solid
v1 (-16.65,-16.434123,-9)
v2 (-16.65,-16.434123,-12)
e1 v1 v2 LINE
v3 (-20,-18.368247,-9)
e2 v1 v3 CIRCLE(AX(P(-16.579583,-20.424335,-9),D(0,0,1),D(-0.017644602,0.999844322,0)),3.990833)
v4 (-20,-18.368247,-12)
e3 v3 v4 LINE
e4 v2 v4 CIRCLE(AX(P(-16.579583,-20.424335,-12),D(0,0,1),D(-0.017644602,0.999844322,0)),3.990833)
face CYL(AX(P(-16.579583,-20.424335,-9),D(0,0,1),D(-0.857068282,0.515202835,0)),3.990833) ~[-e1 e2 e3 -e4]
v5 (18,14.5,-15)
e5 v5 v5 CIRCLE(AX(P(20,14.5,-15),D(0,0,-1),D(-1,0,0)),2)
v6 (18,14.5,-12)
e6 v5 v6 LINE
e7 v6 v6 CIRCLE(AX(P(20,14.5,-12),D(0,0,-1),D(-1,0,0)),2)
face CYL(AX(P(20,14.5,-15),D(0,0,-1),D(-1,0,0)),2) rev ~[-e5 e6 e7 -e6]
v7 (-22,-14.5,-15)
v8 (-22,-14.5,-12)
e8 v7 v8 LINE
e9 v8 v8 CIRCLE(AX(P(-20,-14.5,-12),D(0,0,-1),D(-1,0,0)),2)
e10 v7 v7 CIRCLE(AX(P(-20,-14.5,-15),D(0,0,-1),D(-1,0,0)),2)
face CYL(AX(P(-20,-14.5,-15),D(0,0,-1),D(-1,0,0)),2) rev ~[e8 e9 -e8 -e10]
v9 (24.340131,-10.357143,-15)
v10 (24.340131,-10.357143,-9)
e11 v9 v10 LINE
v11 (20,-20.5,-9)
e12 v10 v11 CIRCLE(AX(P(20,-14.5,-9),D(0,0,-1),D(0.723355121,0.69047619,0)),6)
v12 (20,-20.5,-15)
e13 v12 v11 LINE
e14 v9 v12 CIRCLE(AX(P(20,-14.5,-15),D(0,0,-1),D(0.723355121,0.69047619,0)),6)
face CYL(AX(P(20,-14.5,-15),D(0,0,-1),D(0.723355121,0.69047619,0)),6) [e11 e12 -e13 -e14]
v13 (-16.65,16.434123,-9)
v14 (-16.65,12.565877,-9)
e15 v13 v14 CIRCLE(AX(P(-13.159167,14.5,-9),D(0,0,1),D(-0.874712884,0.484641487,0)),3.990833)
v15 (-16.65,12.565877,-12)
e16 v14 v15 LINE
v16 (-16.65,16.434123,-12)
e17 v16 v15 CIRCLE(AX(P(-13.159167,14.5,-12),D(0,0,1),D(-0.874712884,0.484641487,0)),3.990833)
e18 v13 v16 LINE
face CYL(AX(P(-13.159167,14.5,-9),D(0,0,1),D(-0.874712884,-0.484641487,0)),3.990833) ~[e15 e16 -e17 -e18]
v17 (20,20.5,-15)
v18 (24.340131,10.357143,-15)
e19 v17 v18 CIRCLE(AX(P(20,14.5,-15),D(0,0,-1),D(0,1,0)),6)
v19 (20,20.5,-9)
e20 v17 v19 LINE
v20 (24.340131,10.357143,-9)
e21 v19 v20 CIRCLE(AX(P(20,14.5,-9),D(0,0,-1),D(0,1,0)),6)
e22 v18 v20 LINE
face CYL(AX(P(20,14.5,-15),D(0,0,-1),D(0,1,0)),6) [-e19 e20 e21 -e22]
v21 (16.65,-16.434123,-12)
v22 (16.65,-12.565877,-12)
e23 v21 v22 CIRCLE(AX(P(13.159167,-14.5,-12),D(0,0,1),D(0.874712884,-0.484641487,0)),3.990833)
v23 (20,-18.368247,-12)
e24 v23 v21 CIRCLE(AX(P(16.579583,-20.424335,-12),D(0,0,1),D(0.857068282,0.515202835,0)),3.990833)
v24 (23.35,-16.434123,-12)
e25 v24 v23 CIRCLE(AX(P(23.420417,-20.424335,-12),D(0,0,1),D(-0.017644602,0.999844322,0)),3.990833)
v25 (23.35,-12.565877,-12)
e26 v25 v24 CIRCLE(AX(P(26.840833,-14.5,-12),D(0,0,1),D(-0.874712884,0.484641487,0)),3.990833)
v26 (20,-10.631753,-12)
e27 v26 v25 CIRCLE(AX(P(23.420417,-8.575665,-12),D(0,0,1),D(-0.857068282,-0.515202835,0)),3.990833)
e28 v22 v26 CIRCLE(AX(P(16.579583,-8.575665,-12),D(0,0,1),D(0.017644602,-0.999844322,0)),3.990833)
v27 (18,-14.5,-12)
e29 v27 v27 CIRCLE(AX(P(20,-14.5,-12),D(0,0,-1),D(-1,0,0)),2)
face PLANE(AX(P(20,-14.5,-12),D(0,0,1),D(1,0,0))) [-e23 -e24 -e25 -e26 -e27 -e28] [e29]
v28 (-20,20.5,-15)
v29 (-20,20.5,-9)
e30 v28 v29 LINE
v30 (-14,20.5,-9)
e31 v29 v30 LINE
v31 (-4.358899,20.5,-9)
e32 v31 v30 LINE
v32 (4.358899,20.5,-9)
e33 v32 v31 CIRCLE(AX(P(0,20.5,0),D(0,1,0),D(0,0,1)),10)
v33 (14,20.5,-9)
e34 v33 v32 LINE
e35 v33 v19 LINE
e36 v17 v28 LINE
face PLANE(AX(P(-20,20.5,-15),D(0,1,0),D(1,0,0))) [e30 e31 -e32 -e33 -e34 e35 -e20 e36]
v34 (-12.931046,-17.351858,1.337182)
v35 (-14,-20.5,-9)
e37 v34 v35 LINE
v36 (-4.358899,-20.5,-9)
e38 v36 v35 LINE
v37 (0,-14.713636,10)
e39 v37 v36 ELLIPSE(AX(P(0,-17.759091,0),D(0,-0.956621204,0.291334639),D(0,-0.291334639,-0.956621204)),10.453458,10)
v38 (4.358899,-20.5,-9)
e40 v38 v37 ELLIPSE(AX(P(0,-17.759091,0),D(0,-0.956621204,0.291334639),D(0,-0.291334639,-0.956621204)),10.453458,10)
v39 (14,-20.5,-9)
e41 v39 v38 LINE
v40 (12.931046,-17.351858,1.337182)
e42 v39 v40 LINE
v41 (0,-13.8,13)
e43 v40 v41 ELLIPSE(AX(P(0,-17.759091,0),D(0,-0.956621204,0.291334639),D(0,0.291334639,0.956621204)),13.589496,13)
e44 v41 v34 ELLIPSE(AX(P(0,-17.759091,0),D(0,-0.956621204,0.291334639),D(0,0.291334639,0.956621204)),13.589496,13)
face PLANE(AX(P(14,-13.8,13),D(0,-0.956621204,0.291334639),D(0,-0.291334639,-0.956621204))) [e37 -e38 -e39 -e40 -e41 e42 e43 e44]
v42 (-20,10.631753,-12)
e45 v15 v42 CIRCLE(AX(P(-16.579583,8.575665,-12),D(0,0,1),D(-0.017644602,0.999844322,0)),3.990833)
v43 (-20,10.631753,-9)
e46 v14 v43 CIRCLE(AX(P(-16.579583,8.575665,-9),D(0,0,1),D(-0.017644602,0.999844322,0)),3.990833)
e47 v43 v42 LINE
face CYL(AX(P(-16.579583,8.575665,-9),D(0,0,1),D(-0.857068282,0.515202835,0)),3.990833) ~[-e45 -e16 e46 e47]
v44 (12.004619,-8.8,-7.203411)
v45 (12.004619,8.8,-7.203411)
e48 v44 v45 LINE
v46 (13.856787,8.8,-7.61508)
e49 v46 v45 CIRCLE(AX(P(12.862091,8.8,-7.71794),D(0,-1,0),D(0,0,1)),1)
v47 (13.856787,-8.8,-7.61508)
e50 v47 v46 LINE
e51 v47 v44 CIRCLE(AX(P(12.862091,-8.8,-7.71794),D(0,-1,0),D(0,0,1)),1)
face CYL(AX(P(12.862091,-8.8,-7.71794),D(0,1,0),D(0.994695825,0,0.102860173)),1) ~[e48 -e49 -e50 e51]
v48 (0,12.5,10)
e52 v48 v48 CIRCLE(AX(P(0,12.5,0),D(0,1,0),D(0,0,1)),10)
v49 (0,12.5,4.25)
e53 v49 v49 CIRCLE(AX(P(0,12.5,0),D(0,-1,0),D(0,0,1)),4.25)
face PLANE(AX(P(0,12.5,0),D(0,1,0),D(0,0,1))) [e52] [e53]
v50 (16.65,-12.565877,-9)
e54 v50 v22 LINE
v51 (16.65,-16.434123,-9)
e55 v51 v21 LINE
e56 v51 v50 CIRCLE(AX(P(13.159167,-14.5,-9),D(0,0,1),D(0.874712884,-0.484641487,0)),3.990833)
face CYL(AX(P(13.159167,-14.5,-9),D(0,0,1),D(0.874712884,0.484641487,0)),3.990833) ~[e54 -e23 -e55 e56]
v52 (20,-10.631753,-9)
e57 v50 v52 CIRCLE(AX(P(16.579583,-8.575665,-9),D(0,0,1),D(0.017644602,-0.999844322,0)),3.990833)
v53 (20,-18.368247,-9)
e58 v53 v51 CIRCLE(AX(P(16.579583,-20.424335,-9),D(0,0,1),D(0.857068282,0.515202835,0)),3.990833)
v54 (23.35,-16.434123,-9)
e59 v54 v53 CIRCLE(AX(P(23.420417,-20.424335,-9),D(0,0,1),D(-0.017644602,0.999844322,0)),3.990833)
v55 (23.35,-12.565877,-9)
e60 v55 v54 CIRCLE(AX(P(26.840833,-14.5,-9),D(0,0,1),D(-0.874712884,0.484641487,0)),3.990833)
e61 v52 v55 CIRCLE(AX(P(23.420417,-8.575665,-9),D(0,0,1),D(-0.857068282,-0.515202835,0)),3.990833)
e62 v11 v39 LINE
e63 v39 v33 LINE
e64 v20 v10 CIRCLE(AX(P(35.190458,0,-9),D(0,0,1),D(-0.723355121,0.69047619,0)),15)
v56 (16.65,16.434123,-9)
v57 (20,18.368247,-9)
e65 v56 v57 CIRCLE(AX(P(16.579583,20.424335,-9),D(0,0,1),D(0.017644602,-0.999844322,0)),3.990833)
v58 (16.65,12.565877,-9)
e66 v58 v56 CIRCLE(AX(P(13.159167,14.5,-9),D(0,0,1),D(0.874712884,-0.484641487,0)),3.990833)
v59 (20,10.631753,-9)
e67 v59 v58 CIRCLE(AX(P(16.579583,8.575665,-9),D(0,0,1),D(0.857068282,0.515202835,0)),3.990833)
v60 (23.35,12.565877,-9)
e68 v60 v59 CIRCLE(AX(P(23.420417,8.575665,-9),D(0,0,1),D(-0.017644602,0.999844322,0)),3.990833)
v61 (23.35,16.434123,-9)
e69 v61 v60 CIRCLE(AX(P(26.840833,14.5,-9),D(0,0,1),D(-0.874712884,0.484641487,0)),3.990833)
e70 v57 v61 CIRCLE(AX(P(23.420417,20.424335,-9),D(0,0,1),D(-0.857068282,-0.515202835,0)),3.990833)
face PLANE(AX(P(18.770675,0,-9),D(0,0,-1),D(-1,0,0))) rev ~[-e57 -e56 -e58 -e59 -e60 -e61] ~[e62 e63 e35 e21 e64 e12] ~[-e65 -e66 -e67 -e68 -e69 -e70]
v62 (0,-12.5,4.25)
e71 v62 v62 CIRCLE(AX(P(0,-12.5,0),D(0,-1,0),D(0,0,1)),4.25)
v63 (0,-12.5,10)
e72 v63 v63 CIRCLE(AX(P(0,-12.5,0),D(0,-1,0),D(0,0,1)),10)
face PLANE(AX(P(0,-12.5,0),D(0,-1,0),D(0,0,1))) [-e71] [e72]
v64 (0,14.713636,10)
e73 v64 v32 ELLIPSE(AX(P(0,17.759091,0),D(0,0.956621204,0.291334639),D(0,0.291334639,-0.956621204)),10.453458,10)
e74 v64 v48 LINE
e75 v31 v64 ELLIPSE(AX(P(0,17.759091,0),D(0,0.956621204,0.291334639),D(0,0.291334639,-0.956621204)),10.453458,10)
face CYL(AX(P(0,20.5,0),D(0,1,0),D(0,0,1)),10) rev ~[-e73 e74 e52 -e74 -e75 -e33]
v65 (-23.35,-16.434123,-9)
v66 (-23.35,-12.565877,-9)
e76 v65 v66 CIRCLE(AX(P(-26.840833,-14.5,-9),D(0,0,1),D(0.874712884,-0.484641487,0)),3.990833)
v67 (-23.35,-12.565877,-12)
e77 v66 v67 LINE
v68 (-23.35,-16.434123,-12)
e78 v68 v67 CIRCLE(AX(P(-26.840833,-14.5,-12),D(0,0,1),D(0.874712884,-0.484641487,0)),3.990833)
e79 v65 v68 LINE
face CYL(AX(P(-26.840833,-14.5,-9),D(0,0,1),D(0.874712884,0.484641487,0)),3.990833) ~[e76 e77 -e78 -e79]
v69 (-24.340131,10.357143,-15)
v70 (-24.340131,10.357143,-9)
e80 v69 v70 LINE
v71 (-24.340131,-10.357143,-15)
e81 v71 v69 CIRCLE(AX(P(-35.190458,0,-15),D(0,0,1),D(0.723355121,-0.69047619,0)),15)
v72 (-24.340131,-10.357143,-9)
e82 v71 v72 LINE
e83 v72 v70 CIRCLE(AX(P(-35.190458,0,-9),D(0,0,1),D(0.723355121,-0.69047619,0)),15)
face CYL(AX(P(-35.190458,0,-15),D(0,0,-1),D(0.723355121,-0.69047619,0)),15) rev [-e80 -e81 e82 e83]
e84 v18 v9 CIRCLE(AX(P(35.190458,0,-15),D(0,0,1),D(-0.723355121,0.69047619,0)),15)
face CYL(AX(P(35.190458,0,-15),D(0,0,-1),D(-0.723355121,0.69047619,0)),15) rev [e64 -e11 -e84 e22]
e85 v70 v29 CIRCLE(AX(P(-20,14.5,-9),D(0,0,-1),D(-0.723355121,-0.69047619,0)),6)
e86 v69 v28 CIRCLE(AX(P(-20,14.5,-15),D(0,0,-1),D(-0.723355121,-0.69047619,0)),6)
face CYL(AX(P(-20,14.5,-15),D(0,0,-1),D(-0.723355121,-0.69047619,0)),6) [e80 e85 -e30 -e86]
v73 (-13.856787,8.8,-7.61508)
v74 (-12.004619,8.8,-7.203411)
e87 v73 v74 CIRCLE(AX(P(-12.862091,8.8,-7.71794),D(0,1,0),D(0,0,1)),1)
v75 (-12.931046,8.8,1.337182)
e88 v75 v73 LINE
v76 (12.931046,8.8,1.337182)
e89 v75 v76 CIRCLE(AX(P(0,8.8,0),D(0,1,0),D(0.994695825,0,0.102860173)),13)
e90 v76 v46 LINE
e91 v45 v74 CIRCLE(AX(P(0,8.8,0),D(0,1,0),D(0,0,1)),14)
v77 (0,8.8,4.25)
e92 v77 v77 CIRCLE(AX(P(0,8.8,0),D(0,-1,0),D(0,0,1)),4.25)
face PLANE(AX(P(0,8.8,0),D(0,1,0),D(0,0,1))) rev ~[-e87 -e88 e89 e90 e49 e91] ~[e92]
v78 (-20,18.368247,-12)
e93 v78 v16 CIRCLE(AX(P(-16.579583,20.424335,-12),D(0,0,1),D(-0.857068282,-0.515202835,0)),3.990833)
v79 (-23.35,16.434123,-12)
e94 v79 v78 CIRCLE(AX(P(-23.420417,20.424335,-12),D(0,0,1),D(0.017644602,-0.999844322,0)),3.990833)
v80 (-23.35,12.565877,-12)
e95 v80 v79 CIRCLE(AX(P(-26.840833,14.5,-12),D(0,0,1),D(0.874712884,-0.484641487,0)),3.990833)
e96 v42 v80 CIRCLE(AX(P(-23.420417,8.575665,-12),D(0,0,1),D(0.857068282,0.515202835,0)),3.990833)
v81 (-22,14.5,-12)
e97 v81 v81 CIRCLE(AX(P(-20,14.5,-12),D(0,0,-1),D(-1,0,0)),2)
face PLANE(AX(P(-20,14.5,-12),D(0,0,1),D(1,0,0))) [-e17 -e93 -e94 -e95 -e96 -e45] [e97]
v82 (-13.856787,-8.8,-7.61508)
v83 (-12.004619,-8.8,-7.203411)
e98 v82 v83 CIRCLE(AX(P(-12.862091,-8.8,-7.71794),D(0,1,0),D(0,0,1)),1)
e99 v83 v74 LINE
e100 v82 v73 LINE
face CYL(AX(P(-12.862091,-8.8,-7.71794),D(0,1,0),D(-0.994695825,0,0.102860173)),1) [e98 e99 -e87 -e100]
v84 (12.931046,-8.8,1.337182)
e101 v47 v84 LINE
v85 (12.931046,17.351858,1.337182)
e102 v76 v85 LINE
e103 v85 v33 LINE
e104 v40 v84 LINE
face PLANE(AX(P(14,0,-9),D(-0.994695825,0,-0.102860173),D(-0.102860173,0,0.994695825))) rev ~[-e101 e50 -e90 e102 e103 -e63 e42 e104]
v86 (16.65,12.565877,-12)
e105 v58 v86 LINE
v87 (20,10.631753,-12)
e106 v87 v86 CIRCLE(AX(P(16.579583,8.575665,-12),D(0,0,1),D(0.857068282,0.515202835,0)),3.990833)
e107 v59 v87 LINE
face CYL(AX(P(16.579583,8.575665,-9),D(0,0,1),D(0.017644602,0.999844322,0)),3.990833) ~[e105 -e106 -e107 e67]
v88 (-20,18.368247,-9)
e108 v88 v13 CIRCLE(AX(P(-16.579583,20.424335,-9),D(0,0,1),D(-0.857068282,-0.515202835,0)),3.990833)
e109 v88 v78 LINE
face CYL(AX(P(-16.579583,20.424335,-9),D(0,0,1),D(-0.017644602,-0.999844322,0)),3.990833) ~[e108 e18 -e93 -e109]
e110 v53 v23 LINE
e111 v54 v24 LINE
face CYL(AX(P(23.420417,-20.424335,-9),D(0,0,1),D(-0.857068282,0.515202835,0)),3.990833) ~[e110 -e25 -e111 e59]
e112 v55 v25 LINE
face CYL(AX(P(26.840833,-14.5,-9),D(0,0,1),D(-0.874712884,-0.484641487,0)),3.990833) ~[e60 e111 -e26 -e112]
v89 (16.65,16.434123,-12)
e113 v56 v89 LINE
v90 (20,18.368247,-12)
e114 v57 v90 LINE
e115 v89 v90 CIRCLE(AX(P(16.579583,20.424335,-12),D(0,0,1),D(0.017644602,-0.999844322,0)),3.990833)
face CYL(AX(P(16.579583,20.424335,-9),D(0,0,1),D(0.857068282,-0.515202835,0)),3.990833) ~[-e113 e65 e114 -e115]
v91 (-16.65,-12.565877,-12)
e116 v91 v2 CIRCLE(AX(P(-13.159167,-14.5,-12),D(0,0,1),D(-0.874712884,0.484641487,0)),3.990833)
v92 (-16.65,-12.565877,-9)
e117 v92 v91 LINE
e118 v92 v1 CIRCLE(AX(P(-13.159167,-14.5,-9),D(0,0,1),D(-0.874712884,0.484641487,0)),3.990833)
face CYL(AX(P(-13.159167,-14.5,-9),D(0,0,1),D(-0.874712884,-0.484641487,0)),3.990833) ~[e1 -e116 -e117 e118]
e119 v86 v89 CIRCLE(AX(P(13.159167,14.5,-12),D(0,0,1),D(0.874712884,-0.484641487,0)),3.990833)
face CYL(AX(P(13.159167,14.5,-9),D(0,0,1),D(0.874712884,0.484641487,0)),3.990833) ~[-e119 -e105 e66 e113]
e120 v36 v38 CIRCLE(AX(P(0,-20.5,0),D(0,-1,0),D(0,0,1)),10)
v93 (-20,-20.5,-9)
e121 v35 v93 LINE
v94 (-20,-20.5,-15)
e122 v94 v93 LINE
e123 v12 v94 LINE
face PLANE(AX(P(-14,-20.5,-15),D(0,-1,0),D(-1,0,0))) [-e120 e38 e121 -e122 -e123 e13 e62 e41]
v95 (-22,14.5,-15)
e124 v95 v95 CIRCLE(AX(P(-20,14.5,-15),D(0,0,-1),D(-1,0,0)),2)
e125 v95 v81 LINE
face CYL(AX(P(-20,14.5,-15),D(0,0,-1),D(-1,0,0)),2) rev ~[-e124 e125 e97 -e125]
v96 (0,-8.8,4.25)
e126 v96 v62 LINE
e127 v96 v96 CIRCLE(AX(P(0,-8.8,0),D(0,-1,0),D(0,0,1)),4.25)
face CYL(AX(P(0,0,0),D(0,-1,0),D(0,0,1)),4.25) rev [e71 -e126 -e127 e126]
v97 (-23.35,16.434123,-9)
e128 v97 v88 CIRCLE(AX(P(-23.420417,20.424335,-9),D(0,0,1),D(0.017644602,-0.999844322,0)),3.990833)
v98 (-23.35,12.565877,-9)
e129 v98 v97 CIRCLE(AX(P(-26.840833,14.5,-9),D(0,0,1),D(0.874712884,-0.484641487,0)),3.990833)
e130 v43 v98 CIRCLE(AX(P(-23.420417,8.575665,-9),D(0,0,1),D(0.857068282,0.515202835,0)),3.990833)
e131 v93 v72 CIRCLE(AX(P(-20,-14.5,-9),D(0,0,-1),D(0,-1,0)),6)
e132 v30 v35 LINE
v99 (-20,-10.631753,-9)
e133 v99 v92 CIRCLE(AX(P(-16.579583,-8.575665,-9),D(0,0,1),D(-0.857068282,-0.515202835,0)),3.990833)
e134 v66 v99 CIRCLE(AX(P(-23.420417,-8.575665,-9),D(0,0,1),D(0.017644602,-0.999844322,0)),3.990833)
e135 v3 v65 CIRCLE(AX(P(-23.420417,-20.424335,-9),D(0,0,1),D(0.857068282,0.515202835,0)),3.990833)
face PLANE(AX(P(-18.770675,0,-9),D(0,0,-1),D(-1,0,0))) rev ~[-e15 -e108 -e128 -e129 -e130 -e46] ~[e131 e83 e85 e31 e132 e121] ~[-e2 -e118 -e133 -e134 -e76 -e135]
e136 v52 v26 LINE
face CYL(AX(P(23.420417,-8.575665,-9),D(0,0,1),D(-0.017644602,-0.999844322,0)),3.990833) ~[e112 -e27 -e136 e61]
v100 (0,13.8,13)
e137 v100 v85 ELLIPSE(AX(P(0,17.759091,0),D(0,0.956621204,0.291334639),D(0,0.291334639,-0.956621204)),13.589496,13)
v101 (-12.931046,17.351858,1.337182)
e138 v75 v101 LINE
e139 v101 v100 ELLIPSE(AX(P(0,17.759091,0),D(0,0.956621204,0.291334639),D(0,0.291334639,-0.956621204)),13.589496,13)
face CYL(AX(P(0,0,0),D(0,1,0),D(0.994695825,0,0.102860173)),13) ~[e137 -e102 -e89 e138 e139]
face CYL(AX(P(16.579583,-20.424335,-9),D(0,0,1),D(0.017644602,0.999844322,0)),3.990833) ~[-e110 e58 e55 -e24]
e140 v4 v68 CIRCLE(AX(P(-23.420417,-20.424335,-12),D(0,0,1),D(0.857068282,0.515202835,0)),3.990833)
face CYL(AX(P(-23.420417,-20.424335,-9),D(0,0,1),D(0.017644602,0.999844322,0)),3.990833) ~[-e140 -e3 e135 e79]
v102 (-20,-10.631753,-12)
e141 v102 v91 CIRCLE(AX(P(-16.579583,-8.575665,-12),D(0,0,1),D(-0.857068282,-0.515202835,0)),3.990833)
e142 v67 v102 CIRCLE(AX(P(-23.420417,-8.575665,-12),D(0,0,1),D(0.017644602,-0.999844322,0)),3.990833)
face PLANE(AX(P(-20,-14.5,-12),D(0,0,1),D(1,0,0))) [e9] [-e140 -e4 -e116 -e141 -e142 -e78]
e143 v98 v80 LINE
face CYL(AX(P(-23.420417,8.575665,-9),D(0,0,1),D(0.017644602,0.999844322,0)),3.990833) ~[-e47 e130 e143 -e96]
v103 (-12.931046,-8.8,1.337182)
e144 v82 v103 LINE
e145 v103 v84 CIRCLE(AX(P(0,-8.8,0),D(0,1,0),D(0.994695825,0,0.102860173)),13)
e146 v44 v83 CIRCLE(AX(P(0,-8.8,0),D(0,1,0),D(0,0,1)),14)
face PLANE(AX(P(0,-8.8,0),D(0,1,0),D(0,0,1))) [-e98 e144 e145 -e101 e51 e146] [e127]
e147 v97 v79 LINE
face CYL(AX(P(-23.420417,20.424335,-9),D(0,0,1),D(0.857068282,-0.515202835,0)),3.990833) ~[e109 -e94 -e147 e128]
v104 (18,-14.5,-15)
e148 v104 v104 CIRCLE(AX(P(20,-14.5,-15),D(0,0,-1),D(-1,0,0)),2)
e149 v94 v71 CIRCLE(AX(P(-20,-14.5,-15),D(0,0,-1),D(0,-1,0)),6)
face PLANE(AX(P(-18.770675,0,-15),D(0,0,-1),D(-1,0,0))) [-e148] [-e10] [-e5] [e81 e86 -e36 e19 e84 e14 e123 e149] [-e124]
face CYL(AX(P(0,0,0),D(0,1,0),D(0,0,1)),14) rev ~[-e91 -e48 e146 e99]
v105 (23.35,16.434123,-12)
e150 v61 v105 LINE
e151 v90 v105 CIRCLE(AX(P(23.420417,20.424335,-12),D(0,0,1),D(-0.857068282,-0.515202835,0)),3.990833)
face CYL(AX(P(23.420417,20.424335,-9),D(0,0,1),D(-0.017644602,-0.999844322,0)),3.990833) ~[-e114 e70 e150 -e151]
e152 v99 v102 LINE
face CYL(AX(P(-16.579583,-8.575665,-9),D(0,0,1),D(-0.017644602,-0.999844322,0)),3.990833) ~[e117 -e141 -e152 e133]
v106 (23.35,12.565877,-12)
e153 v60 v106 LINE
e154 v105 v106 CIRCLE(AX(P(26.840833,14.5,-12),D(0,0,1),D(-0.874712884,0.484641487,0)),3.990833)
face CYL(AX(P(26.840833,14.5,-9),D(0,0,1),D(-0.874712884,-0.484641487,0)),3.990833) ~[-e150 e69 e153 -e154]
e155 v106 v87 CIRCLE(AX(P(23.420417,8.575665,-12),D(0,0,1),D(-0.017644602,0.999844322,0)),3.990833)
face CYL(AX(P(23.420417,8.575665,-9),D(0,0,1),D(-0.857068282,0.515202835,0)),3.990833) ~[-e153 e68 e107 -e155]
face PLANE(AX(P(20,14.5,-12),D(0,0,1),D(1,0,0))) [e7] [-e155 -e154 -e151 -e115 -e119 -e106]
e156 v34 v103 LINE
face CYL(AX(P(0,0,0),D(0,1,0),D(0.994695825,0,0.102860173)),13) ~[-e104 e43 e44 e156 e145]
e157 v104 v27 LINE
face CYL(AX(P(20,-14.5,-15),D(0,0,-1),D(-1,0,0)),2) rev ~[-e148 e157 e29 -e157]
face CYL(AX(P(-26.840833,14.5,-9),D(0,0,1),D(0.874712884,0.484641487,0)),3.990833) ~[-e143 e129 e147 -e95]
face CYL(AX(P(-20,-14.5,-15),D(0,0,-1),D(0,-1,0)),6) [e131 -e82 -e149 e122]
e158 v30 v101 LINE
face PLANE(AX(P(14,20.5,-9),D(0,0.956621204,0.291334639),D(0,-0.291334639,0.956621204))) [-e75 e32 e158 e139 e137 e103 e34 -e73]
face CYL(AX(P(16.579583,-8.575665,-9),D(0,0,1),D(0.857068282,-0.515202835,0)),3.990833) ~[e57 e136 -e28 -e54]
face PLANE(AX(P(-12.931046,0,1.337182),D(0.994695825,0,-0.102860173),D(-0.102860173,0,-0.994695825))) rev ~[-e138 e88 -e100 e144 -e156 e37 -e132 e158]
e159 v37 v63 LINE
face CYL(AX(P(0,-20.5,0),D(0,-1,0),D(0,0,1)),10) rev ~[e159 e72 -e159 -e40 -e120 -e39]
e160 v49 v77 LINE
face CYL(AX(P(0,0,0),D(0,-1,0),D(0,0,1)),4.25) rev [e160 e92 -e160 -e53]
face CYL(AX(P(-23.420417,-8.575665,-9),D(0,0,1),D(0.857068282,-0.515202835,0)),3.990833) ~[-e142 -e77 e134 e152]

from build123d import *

# Parameters (mm, degrees)
SKETCH1_R            = 4.25
BOSS_EXTRUDE1_DEPTH  = 20.5
SKETCH2_W            = 14
SKETCH2_H            = 17.6
CUT_EXTRUDE1_DEPTH   = 29
SKETCH7_R            = 1
BOSS_EXTRUDE2_DEPTH  = 6
CUT_EXTRUDE6_DEPTH   = 3
SKETCH4_R            = 2
CUT_EXTRUDE2_DEPTH   = 7
SKETCH5_R            = 10
CUT_EXTRUDE3_DEPTH   = 8
SKETCH6_R            = 10
CUT_EXTRUDE4_DEPTH   = 8
FILLET1_R            = 1
CUT_EXTRUDE7_DEPTH   = 3
LPATTERN1_COUNT      = 2
LPATTERN1_PITCH      = 40
LPATTERN1_COUNT_DIR2 = 2
LPATTERN1_PITCH_DIR2 = 29


with BuildPart() as part:
    # Sketch1 → Boss-Extrude1 (new body, symmetric)
    with BuildSketch(Plane(origin=(0, 0, 0), x_dir=(1, 0, 0), z_dir=(0, 1, 0))):
        with BuildLine():
            Line((-12.931045729, -1.337182245), (-14, 9))
            Line((-14, 9), (-14, 15))
            Line((-14, 15), (14, 15))
            Line((14, 15), (14, 9))
            Line((14, 9), (12.931045729, -1.337182245))
            ThreePointArc((12.931045729, -1.337182245), (0, -13), (-12.931045729, -1.337182245))
        make_face()
        with Locations(Location((0, 0, 0), (0, 0, 270))):  # turned: the seam where the file's is
            Circle(SKETCH1_R, mode=Mode.SUBTRACT)
    extrude(amount=BOSS_EXTRUDE1_DEPTH, both=True)

    # Sketch2 → Cut-Revolve1 (revolve, cut)
    with BuildSketch(Plane(origin=(0, 0, 0), x_dir=(0, 0, -1), z_dir=(1, 0, 0))):
        with Locations((-7, 0)):
            Rectangle(SKETCH2_W, SKETCH2_H)
    revolve(axis=Axis((0, 0, 0), (0, 1, 0)), mode=Mode.SUBTRACT)

    # Sketch3 → Cut-Extrude1 (cut, through all)
    with BuildSketch(Plane(origin=(14, 0, 0), x_dir=(0, 0, -1), z_dir=(1, 0, 0))):
        Polygon((9, 20.5), (-13, 13.8), (-13, 20.5), align=None)
        Polygon((-13, -13.8), (9, -20.5), (-13, -20.5), align=None)
    extrude(amount=-CUT_EXTRUDE1_DEPTH, mode=Mode.SUBTRACT)

    # Sketch7 → Boss-Extrude2 (add)
    with BuildSketch(Plane(origin=(0, 0, -15), x_dir=(-1, 0, 0), z_dir=(0, 0, -1))):
        with BuildLine():
            Line((20, 20.5), (14, 20.5))
            Line((14, 20.5), (14, -20.5))
            Line((14, -20.5), (20, -20.5))
            ThreePointArc((20, -20.5), (25.516209879, -16.860387377), (24.340130723, -10.357142857))
            ThreePointArc((24.340130723, -10.357142857), (20.190457531, 0), (24.340130723, 10.357142857))
            ThreePointArc((24.340130723, 10.357142857), (25.516209879, 16.860387377), (20, 20.5))
        make_face()
        with Locations((20, -14.5)):
            Circle(SKETCH7_R, mode=Mode.SUBTRACT)
        with Locations((20, 14.5)):
            Circle(SKETCH7_R, mode=Mode.SUBTRACT)
        with BuildLine():
            Line((-20, -20.5), (-14, -20.5))
            Line((-14, -20.5), (-14, 20.5))
            Line((-14, 20.5), (-20, 20.5))
            ThreePointArc((-20, 20.5), (-25.516209879, 16.860387377), (-24.340130723, 10.357142857))
            ThreePointArc((-24.340130723, 10.357142857), (-20.190457531, 0), (-24.340130723, -10.357142857))
            ThreePointArc((-24.340130723, -10.357142857), (-25.516209879, -16.860387377), (-20, -20.5))
        make_face()
        with Locations((-20, 14.5)):
            Circle(SKETCH7_R, mode=Mode.SUBTRACT)
        with Locations((-20, -14.5)):
            Circle(SKETCH7_R, mode=Mode.SUBTRACT)
    extrude(amount=-BOSS_EXTRUDE2_DEPTH)

    # Sketch8 → Cut-Extrude6 (cut)
    with BuildSketch(Plane.XY.offset(-9)):
        Polygon((-17.15, 12.854551733), (-17.15, 16.145448267), (-20, 17.790896534), (-22.85, 16.145448267), (-22.85, 12.854551733), (-20, 11.209103466), align=None)
        Polygon((-17.15, -12.854551733), (-20, -11.209103466), (-22.85, -12.854551733), (-22.85, -16.145448267), (-20, -17.790896534), (-17.15, -16.145448267), align=None)
        Polygon((22.85, -12.854551733), (20, -11.209103466), (17.15, -12.854551733), (17.15, -16.145448267), (20, -17.790896534), (22.85, -16.145448267), align=None)
        Polygon((22.85, 12.854551733), (22.85, 16.145448267), (20, 17.790896534), (17.15, 16.145448267), (17.15, 12.854551733), (20, 11.209103466), align=None)
    extrude(amount=-CUT_EXTRUDE6_DEPTH, mode=Mode.SUBTRACT)

    # Sketch4 → Cut-Extrude2 (cut)
    with BuildSketch(Plane(origin=(0, 0, -15), x_dir=(-1, 0, 0), z_dir=(0, 0, -1))):
        with Locations((-20, 14.5)):
            Circle(SKETCH4_R)
        with Locations((20, 14.5)):
            Circle(SKETCH4_R)
        with Locations((-20, -14.5)):
            Circle(SKETCH4_R)
        with Locations((20, -14.5)):
            Circle(SKETCH4_R)
    extrude(amount=-CUT_EXTRUDE2_DEPTH, mode=Mode.SUBTRACT)

    # Sketch5 → Cut-Extrude3 (cut)
    with BuildSketch(Plane(origin=(0, 20.5, 0), x_dir=(1, 0, 0), z_dir=(0, 1, 0))):
        with Locations(Location((0, 0, 0), (0, 0, 270))):  # turned: the seam where the file's is
            Circle(SKETCH5_R)
    extrude(amount=-CUT_EXTRUDE3_DEPTH, mode=Mode.SUBTRACT)

    # Sketch6 → Cut-Extrude4 (cut)
    with BuildSketch(Plane.XZ.offset(20.5)):
        with Locations(Location((0, 0, 0), (0, 0, 90))):  # turned: the seam where the file's is
            Circle(SKETCH6_R)
    extrude(amount=-CUT_EXTRUDE4_DEPTH, mode=Mode.SUBTRACT)

    # Fillet1
    fillet1_edges = [part.edges().sort_by_distance(p)[0] for p in [
        (13.465522864, 0, -3.831408877),
        (-13.465522864, 0, -3.831408877),
    ]]
    fillet(fillet1_edges, radius=FILLET1_R)

    # Sketch9 → Cut-Extrude7 (cut)
    with BuildSketch(Plane.XY.offset(-9)):
        with BuildLine():
            ThreePointArc((-23.35, 16.434123402), (-22.85, 14.5), (-23.35, 12.565876598))
            ThreePointArc((-23.35, 12.565876598), (-21.425, 12.031827599), (-20, 10.631753196))
            ThreePointArc((-20, 10.631753196), (-18.575, 12.031827599), (-16.65, 12.565876598))
            ThreePointArc((-16.65, 12.565876598), (-17.15, 14.5), (-16.65, 16.434123402))
            ThreePointArc((-16.65, 16.434123402), (-18.575, 16.968172401), (-20, 18.368246804))
            ThreePointArc((-20, 18.368246804), (-21.425, 16.968172401), (-23.35, 16.434123402))
        make_face()
    cut_extrude7 = extrude(amount=-CUT_EXTRUDE7_DEPTH, mode=Mode.SUBTRACT)

    # LPattern1: Cut-Extrude7 2 × 2
    with Locations(*[(i * LPATTERN1_PITCH, -j * LPATTERN1_PITCH_DIR2, 0) for i in range(LPATTERN1_COUNT) for j in range(LPATTERN1_COUNT_DIR2) if (i, j) != (0, 0)]):
        add(cut_extrude7, mode=Mode.SUBTRACT)


solid = part.part
